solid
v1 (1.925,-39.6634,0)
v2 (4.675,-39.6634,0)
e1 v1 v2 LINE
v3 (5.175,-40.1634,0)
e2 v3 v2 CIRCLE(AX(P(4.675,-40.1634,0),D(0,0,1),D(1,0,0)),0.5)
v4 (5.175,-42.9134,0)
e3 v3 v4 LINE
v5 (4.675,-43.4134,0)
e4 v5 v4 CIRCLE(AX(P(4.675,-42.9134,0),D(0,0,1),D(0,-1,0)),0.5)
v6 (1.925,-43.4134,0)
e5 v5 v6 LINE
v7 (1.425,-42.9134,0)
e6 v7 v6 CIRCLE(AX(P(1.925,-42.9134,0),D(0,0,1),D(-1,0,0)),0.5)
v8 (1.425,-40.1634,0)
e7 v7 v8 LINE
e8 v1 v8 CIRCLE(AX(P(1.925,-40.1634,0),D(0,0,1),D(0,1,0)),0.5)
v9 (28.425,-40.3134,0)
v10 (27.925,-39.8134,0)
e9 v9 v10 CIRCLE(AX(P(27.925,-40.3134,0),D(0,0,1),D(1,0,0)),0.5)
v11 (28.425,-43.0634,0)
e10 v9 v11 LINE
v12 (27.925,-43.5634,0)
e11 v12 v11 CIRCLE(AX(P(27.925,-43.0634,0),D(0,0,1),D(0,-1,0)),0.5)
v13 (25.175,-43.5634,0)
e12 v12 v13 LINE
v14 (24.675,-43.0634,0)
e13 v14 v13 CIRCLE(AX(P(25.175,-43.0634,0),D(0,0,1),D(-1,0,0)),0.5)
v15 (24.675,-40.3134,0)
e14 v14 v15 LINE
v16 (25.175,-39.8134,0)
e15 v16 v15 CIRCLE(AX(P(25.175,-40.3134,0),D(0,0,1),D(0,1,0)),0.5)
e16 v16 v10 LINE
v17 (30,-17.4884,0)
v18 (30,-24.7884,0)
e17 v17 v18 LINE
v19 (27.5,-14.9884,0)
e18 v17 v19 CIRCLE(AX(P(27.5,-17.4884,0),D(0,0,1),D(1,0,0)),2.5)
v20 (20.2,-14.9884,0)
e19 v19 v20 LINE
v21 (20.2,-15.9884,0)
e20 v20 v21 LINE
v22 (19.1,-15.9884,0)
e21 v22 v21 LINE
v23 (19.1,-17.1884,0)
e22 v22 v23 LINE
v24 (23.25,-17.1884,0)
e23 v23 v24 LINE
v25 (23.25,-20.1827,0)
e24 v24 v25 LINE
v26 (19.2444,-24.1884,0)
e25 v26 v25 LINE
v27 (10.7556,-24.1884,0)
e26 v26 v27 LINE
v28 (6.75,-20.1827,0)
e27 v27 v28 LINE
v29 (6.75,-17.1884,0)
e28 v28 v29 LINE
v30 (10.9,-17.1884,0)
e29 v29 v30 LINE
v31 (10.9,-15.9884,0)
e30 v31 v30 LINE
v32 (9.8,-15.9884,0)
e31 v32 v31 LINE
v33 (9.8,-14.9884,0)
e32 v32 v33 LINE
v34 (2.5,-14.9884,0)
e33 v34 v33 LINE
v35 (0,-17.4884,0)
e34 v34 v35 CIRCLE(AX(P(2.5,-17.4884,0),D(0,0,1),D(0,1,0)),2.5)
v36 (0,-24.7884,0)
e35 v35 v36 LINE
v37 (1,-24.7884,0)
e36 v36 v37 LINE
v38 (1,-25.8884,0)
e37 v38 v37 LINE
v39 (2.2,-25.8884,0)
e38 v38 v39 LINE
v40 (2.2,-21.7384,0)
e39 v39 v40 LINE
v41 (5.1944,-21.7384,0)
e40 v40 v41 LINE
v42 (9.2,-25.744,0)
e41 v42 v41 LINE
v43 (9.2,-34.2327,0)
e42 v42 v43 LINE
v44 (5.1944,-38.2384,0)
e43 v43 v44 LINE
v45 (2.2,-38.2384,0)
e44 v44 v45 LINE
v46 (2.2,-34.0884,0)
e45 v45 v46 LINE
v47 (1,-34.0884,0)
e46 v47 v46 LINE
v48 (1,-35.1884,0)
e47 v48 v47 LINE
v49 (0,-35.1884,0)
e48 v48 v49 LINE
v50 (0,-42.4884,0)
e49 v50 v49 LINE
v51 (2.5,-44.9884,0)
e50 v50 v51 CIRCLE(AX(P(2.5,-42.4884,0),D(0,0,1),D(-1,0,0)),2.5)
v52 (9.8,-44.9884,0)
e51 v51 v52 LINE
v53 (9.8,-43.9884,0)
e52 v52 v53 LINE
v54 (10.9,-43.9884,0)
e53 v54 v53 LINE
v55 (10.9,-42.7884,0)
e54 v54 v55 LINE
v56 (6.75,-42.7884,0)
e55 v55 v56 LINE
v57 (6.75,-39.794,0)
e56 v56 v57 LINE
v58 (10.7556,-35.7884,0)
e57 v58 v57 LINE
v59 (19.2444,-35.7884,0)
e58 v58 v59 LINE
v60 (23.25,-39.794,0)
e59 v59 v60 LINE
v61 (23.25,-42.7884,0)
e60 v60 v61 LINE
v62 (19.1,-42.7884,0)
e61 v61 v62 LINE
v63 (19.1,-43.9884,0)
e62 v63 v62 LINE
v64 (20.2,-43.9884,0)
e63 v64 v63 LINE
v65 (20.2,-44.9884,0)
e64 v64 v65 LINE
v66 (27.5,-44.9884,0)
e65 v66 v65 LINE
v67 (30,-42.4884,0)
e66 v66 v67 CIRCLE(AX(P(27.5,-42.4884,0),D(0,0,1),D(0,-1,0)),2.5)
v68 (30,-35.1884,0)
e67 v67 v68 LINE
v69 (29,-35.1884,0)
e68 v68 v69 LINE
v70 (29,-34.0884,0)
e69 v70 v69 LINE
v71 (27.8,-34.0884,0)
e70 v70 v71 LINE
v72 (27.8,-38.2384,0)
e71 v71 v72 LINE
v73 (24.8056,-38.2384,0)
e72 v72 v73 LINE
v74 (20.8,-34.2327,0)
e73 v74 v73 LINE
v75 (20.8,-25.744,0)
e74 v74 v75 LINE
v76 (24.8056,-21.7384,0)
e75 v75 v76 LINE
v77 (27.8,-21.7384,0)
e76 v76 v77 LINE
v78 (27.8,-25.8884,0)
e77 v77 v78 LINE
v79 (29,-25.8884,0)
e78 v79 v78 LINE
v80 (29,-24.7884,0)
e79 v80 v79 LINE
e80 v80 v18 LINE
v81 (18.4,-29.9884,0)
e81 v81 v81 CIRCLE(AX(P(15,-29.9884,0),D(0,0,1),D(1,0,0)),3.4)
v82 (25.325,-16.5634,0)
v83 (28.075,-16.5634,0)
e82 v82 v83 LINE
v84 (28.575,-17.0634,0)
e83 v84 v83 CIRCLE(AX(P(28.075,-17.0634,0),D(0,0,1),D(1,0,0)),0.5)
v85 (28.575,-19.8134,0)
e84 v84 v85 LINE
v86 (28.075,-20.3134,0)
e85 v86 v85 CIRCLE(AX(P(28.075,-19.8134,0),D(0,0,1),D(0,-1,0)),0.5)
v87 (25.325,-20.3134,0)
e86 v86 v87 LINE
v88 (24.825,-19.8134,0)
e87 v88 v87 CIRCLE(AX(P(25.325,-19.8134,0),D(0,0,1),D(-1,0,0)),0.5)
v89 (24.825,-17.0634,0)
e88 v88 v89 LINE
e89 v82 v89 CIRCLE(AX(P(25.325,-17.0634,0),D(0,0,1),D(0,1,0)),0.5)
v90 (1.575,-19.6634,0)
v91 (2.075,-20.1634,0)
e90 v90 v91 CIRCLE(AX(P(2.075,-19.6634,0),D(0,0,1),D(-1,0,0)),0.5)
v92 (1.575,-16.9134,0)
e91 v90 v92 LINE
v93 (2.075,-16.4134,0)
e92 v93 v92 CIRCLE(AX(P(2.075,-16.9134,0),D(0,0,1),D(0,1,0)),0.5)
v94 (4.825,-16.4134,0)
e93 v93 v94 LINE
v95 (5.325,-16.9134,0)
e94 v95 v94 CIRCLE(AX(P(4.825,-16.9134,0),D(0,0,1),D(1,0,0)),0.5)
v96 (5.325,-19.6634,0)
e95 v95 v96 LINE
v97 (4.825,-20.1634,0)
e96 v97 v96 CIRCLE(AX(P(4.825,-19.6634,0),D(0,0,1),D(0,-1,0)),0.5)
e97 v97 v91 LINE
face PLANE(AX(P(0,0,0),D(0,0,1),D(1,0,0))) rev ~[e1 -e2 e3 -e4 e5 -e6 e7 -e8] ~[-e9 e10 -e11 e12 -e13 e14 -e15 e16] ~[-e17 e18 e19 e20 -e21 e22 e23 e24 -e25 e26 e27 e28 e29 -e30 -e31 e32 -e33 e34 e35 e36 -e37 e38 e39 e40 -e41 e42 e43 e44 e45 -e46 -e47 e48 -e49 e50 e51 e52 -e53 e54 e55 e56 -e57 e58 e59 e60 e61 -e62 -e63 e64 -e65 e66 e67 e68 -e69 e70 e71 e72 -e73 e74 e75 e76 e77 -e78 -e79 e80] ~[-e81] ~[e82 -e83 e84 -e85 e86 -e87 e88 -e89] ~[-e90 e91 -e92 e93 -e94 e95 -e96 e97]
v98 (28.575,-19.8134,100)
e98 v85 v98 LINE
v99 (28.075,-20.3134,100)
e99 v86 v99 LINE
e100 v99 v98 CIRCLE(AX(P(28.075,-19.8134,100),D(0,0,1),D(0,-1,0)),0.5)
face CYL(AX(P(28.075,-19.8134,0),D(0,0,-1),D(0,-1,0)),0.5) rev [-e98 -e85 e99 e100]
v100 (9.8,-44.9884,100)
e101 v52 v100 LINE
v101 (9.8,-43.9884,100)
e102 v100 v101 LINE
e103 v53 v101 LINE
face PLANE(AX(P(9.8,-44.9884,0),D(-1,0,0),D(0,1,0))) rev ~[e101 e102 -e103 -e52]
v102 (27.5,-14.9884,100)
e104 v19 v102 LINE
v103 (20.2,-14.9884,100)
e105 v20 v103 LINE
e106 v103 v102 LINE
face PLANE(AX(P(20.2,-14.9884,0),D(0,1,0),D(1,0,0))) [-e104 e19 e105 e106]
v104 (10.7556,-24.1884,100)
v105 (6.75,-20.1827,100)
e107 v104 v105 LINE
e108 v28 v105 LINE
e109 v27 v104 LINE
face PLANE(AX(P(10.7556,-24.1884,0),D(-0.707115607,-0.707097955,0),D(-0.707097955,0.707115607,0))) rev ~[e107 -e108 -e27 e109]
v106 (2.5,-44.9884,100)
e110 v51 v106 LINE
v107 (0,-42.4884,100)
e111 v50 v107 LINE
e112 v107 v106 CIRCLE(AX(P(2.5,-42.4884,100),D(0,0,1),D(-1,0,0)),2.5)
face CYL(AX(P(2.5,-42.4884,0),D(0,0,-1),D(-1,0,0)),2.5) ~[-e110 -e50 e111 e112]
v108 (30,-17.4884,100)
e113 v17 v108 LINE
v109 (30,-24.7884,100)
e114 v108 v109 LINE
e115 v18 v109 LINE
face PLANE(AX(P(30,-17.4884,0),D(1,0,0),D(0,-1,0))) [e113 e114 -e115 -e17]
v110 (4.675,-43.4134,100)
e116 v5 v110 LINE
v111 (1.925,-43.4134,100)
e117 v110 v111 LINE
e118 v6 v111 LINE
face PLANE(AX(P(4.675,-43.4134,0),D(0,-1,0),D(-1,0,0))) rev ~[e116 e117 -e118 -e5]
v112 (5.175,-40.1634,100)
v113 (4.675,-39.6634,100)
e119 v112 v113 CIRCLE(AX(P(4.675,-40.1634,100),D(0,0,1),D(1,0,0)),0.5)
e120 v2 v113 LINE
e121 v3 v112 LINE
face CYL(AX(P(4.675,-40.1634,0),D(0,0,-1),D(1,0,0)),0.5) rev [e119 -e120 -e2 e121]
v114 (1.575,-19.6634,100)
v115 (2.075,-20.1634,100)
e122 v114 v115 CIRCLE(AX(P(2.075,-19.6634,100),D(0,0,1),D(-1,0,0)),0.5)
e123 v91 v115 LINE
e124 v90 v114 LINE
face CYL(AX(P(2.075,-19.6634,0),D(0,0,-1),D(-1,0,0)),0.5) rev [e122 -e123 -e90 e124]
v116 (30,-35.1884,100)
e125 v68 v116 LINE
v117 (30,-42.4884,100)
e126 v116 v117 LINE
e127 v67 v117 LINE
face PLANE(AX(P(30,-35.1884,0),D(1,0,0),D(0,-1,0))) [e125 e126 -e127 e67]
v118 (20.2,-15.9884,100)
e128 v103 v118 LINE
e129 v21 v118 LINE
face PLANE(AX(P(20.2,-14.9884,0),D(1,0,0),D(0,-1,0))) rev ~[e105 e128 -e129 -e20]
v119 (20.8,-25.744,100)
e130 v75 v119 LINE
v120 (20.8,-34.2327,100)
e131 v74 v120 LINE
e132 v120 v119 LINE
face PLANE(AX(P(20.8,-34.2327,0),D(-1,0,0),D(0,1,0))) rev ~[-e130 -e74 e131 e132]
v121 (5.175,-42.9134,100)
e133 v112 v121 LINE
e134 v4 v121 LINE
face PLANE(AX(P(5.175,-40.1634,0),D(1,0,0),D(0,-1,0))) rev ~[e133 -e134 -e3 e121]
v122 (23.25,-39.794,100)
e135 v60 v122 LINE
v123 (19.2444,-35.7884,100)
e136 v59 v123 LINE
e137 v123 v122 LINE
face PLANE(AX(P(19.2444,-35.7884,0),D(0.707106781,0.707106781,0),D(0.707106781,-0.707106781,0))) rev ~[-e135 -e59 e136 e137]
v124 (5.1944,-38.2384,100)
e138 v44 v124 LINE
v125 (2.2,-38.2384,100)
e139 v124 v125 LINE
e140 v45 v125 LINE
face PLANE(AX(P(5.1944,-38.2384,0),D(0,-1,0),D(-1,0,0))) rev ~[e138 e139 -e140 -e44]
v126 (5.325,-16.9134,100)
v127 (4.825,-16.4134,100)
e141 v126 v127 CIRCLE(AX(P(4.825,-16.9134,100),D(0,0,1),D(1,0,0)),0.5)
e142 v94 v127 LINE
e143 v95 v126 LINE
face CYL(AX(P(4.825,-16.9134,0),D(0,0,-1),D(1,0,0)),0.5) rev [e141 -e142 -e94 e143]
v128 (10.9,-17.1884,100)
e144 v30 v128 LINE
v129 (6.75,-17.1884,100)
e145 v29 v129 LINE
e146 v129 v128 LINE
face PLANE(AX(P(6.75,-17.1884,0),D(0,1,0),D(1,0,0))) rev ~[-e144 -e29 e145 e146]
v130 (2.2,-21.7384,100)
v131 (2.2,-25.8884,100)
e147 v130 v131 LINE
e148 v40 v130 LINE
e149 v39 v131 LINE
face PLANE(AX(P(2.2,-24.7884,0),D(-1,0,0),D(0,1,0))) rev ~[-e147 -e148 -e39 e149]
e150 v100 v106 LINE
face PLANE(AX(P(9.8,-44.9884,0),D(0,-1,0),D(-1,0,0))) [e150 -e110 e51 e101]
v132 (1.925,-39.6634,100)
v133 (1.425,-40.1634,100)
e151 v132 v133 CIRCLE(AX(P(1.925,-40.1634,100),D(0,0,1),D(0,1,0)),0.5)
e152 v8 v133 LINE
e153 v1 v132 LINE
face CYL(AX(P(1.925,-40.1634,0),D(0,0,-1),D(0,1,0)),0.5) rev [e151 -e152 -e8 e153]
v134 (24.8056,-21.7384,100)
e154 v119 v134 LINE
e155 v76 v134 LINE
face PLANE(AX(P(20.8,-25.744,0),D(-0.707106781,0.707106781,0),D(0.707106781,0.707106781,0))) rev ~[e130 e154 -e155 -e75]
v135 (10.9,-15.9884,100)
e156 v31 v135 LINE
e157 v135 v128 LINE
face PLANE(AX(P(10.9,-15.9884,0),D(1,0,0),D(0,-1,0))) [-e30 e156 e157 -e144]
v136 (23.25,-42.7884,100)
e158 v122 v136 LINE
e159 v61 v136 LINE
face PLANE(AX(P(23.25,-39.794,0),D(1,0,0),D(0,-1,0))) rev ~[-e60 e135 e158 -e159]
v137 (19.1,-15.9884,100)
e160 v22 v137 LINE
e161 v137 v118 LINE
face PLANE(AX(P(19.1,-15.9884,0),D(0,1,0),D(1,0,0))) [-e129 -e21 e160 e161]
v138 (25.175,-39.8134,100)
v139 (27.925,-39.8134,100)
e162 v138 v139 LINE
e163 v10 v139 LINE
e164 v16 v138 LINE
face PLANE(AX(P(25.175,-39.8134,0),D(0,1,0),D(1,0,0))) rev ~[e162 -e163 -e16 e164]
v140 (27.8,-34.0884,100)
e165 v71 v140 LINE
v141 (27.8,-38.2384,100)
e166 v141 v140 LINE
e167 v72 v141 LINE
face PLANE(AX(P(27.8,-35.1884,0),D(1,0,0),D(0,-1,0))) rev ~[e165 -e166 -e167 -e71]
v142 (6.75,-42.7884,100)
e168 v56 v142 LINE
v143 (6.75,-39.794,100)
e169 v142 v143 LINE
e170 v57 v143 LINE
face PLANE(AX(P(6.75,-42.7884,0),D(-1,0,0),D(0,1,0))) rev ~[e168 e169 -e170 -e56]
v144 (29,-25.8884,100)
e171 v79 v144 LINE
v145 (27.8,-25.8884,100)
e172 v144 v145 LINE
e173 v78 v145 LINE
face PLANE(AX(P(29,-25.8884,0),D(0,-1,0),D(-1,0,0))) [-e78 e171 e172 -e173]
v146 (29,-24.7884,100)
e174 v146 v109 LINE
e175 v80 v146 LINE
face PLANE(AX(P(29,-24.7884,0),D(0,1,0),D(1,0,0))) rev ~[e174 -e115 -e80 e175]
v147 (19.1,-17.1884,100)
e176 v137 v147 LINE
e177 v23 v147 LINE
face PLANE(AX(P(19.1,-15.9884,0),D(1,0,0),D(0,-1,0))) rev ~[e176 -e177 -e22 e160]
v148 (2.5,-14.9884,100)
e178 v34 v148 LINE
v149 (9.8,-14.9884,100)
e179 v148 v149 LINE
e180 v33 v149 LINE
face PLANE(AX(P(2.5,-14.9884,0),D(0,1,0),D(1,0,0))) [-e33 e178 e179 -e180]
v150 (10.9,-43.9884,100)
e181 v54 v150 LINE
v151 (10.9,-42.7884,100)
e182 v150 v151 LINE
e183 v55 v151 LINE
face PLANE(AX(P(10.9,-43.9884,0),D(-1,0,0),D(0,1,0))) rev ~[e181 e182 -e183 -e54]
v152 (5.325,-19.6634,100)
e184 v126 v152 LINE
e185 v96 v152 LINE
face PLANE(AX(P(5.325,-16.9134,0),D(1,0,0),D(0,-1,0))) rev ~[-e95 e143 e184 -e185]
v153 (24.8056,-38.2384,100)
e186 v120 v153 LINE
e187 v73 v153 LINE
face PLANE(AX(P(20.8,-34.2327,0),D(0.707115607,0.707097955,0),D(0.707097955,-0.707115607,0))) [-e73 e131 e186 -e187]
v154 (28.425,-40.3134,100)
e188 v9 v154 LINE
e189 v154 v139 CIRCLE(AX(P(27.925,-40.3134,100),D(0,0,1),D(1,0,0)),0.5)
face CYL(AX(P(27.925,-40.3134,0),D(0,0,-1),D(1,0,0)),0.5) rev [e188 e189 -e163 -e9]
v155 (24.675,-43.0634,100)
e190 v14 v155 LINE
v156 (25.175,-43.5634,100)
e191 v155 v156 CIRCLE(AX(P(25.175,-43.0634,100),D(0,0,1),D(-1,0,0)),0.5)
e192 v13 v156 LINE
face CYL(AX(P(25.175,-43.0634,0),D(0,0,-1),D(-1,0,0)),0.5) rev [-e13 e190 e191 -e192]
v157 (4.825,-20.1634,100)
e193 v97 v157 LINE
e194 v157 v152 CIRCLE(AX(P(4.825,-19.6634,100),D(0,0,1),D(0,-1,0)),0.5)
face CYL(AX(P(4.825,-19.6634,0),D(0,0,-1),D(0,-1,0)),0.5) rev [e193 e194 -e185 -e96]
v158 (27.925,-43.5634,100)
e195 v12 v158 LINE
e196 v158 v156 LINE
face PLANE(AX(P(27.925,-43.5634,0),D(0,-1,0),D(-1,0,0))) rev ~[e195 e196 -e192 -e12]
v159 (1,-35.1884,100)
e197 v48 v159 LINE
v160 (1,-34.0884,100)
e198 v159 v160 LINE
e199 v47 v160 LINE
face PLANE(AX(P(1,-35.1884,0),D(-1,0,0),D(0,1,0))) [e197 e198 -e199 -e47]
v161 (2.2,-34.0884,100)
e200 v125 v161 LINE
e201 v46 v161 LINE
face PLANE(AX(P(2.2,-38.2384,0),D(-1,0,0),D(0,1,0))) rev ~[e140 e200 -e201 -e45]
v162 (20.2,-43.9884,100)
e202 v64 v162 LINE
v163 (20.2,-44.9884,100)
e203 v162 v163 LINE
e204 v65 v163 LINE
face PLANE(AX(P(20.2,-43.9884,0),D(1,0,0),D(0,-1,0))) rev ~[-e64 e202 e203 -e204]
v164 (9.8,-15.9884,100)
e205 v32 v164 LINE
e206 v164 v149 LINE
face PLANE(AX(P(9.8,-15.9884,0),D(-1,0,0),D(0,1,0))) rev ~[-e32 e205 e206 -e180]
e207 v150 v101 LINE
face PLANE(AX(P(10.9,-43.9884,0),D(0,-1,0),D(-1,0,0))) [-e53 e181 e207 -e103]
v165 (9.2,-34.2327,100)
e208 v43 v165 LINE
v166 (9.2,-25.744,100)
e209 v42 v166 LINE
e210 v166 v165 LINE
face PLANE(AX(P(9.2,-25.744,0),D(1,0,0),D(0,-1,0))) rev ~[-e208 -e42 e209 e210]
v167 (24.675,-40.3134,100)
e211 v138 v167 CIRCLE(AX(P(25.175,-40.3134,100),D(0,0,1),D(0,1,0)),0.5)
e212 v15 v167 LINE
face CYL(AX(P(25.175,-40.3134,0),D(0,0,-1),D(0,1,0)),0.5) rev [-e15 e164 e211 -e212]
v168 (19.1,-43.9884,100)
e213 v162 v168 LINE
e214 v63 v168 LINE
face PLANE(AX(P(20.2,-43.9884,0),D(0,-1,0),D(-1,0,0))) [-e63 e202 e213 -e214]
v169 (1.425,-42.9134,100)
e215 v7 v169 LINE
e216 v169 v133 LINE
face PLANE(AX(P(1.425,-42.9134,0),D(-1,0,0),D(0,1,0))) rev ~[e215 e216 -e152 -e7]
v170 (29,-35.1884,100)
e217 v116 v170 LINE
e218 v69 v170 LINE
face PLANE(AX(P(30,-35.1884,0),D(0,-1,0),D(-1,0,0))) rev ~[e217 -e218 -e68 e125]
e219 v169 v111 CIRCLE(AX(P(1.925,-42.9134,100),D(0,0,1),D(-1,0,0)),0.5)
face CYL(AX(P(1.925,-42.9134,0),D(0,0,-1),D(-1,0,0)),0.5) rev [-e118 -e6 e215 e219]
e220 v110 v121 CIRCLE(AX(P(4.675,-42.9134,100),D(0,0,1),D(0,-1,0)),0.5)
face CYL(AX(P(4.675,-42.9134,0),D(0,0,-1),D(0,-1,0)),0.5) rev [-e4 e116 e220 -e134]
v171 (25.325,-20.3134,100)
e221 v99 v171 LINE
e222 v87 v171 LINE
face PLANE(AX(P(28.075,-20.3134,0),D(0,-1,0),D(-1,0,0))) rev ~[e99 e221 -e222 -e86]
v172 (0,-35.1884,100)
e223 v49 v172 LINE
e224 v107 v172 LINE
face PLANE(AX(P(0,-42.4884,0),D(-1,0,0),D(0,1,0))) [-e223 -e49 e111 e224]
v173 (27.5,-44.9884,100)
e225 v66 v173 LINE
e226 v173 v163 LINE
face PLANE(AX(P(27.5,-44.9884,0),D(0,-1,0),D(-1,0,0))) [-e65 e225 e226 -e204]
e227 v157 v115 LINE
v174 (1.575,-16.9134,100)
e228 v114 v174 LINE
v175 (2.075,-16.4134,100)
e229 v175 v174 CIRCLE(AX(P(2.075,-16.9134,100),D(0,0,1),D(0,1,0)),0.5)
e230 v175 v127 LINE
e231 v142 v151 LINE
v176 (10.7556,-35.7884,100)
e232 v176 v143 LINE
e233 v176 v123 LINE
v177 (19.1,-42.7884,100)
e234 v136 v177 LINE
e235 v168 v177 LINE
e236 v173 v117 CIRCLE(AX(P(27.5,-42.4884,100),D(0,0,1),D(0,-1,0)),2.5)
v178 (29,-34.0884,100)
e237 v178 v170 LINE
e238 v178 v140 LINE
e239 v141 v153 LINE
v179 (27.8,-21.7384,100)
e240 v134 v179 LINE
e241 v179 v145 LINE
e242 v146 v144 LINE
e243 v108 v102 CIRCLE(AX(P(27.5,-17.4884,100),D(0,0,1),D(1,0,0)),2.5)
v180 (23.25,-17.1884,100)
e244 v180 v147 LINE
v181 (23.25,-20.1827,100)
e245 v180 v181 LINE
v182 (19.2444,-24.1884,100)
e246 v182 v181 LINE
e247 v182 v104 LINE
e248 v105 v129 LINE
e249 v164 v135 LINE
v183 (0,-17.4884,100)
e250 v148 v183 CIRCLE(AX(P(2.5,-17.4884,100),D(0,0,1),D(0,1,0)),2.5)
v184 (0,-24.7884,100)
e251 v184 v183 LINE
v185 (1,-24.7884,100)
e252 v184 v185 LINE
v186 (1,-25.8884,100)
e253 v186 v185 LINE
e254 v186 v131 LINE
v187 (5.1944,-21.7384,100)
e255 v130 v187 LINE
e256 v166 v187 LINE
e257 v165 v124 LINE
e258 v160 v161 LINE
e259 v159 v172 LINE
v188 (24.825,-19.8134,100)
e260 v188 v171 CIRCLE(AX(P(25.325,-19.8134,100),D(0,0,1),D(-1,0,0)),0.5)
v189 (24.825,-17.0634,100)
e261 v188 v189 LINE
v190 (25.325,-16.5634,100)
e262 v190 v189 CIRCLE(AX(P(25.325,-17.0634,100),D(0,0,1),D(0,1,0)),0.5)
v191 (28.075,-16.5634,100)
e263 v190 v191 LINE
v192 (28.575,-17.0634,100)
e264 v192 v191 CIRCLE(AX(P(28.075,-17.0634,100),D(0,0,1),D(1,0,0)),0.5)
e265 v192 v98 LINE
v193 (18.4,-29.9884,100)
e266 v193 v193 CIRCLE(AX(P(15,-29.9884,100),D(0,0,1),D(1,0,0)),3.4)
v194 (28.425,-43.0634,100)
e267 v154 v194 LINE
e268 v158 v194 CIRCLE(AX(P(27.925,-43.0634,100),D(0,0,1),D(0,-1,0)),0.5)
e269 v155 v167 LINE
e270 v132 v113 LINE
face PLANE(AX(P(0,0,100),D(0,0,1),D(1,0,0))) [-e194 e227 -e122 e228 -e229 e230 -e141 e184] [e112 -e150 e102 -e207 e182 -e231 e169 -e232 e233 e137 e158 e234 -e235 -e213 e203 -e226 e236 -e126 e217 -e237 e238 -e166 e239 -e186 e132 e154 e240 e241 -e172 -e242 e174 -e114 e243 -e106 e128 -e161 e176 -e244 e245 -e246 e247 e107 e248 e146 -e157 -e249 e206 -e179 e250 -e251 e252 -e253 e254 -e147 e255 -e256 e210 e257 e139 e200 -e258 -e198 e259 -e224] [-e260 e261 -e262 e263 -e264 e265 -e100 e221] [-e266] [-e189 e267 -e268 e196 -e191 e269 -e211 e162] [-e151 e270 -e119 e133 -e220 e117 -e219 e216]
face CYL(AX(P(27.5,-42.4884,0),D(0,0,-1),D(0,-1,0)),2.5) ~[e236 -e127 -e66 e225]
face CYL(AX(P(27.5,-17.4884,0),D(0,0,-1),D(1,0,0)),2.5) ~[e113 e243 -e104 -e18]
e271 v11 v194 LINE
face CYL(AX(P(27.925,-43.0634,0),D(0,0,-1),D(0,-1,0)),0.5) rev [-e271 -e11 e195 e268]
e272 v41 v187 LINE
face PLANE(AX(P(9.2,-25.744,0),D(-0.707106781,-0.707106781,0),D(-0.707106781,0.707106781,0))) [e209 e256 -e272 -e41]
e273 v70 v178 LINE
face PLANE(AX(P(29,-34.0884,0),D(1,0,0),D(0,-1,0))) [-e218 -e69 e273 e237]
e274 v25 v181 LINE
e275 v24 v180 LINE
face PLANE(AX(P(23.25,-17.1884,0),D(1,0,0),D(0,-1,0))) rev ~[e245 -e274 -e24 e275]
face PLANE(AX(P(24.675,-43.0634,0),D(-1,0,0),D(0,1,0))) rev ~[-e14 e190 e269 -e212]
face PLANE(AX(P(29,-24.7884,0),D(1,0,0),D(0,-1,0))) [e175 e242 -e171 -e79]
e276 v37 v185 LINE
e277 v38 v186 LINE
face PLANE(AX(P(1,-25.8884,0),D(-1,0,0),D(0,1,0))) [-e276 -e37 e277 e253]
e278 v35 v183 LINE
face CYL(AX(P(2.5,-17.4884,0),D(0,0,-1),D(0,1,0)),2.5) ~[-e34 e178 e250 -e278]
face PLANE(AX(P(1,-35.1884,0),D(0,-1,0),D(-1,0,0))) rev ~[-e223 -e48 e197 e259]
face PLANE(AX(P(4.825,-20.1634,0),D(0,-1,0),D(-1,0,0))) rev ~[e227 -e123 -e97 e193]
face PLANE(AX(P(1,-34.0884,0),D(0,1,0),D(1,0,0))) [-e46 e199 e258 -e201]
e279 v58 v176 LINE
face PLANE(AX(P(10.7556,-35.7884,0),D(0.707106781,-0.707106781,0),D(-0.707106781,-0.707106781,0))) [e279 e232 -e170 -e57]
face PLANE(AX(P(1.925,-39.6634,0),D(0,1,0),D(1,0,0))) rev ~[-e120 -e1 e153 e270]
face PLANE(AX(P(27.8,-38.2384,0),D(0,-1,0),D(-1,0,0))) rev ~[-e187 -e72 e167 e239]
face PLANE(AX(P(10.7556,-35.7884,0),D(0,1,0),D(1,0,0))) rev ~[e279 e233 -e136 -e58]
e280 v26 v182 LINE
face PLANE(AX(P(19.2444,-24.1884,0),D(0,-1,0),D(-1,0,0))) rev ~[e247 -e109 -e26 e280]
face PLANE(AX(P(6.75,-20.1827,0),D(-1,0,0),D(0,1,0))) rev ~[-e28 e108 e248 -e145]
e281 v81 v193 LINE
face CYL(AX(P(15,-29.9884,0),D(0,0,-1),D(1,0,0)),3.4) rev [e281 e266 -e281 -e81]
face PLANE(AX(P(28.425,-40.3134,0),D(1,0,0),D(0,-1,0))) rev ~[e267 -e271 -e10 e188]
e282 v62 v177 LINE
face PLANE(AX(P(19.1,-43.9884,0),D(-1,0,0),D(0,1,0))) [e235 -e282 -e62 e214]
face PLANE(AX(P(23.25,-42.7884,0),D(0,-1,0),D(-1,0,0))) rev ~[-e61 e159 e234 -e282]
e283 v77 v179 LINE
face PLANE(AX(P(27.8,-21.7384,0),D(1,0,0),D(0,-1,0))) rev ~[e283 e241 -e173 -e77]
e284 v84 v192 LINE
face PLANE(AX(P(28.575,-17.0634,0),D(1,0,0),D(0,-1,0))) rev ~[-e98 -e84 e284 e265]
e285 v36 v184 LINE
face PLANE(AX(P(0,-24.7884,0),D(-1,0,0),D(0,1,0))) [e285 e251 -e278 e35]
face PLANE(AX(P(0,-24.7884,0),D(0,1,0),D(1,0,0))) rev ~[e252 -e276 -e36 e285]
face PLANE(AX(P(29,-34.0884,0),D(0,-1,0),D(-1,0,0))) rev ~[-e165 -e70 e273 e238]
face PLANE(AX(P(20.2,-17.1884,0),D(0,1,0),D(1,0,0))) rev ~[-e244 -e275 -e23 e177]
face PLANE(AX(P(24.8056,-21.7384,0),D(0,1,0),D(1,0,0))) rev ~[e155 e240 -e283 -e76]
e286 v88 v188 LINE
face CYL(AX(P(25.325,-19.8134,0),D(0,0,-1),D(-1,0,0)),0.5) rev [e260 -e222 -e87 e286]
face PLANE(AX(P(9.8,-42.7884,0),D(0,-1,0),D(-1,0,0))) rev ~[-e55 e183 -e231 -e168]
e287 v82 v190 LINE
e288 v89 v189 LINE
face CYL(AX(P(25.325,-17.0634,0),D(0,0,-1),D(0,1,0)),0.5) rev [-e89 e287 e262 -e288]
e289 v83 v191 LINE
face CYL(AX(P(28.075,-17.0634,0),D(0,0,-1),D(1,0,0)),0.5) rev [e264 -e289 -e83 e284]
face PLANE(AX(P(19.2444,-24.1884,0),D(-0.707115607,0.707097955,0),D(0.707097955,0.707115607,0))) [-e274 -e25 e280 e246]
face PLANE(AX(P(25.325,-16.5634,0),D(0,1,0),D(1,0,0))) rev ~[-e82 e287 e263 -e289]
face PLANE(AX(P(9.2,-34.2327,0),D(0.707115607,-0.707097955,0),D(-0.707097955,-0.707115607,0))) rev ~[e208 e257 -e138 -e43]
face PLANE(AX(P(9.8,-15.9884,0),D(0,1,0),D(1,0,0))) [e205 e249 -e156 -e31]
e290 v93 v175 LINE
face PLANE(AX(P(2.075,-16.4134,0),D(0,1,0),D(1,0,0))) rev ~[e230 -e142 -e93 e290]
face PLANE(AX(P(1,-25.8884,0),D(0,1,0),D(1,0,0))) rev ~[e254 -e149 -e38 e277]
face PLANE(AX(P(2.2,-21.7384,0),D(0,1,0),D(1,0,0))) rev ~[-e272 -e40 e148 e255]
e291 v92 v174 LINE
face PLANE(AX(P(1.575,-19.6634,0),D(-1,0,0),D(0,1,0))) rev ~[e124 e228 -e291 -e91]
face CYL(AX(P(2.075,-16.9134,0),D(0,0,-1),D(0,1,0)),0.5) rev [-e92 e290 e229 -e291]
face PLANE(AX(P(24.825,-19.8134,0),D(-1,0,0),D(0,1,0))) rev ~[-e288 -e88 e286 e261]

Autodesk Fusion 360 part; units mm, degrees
sketch "Sketch1" plane through (0, 0, 0) normal (0, 0, 1) x (1, 0, 0)
  circle A0 centre (10, 10) radius 2.5
  line L0 (13.9, 6.1) -> (6.1, 13.9) construction
  line L1 (0, 6.4) -> (0, 1.5)
  line L2 (4.5, 1.8) -> (6.9, 1.8)
  line L3 (3.5808, 4.5) -> (6.1, 7.0192)
  line L4 (4.5, 3.5808) -> (7.0192, 6.1)
  line L5 (0.5, 6.9) -> (0.5, 6.4)
  line L6 (0.5, 6.4) -> (0, 6.4)
  line L7 (6.9, 0) -> (6.4, 0) construction
  line L8 (6.4, 0) -> (6.4, 0.5)
  line L9 (6.4, 0.5) -> (6.9, 0.5)
  arc A1 (0, 1.5) -> (1.5, 0) centre (1.5, 1.5) ccw
  line L10 (1.8, 6.9) -> (0.5, 6.9)
  line L11 (1.8, 6.9) -> (1.8, 6.4)
  line L12 (1.8, 6.4) -> (1.8, 4.5)
  line L13 (3.5808, 4.5) -> (1.8, 4.5)
  line L14 (6.1, 10) -> (6.1, 7.0192)
  line L15 (7.0192, 6.1) -> (10, 6.1)
  line L16 (4.5, 1.8) -> (4.5, 3.5808)
  line L17 (6.9, 0.5) -> (6.9, 1.8)
  line L18 (1.5, 0) -> (6.4, 0)
  line L19 (6.4, 0) -> (6.9, 0)
  line L20 (0, 6.9) -> (0, 6.4)
  line L21 (10, 13.9) -> (10, 6.1) construction
  line L22 (13.9, 10) -> (6.1, 10) construction
  line L23 (20, 6.4) -> (19.5, 6.4)
  line L24 (19.5, 6.4) -> (19.5, 6.9)
  line L25 (19.5, 6.9) -> (18.2, 6.9)
  line L26 (18.2, 4.5) -> (18.2, 6.9)
  line L27 (18.2, 4.5) -> (16.4192, 4.5)
  line L28 (16.4192, 4.5) -> (13.9, 7.0192)
  line L29 (13.9, 7.0192) -> (13.9, 10)
  line L30 (15.5, 3.5808) -> (12.9808, 6.1)
  line L31 (15.5, 3.5808) -> (15.5, 1.8)
  line L32 (13.6, 1.8) -> (15.5, 1.8)
  line L33 (13.1, 1.8) -> (13.6, 1.8)
  line L34 (13.1, 1.8) -> (13.1, 0.5)
  line L35 (13.1, 0.5) -> (13.6, 0.5)
  line L36 (13.6, 0.5) -> (13.6, 0)
  line L37 (10, 6.1) -> (12.9808, 6.1)
  line L38 (13.6, 0) -> (18.5, 0)
  arc A2 (18.5, 0) -> (20, 1.5) centre (18.5, 1.5) ccw
  line L39 (20, 1.5) -> (20, 6.4)
  line L40 (13.6, 20) -> (13.6, 19.5)
  line L41 (13.6, 19.5) -> (13.1, 19.5)
  line L42 (13.1, 19.5) -> (13.1, 18.2)
  line L43 (15.5, 18.2) -> (13.1, 18.2)
  line L44 (15.5, 18.2) -> (15.5, 16.4192)
  line L45 (15.5, 16.4192) -> (12.9808, 13.9)
  line L46 (12.9808, 13.9) -> (10, 13.9)
  line L47 (16.4192, 15.5) -> (13.9, 12.9808)
  line L48 (16.4192, 15.5) -> (18.2, 15.5)
  line L49 (18.2, 13.6) -> (18.2, 15.5)
  line L50 (18.2, 13.1) -> (18.2, 13.6)
  line L51 (18.2, 13.1) -> (19.5, 13.1)
  line L52 (19.5, 13.1) -> (19.5, 13.6)
  line L53 (19.5, 13.6) -> (20, 13.6)
  line L54 (13.9, 10) -> (13.9, 12.9808)
  line L55 (20, 13.6) -> (20, 18.5)
  arc A3 (20, 18.5) -> (18.5, 20) centre (18.5, 18.5) ccw
  line L56 (18.5, 20) -> (13.6, 20)
  line L57 (0, 13.6) -> (0.5, 13.6)
  line L58 (0.5, 13.6) -> (0.5, 13.1)
  line L59 (0.5, 13.1) -> (1.8, 13.1)
  line L60 (1.8, 15.5) -> (1.8, 13.1)
  line L61 (1.8, 15.5) -> (3.5808, 15.5)
  line L62 (3.5808, 15.5) -> (6.1, 12.9808)
  line L63 (6.1, 12.9808) -> (6.1, 10)
  line L64 (4.5, 16.4192) -> (7.0192, 13.9)
  line L65 (4.5, 16.4192) -> (4.5, 18.2)
  line L66 (6.4, 18.2) -> (4.5, 18.2)
  line L67 (6.9, 18.2) -> (6.4, 18.2)
  line L68 (6.9, 18.2) -> (6.9, 19.5)
  line L69 (6.9, 19.5) -> (6.4, 19.5)
  line L70 (6.4, 19.5) -> (6.4, 20)
  line L71 (10, 13.9) -> (7.0192, 13.9)
  line L72 (6.4, 20) -> (1.5, 20)
  arc A4 (1.5, 20) -> (0, 18.5) centre (1.5, 18.5) ccw
  line L73 (0, 18.5) -> (0, 13.6)
  arc A5 (26, 1.5) -> (27.5, 0) centre (27.5, 1.5) ccw
  line L74 (41.5, 3.5808) -> (41.5, 1.8)
  line L75 (39.1, 19.5) -> (39.1, 18.2)
  line L76 (32.4, 20) -> (27.5, 20)
  line L77 (26, 6.9) -> (26, 6.4)
  line L78 (29.5808, 4.5) -> (32.1, 7.0192)
  line L79 (29.5808, 15.5) -> (32.1, 12.9808)
  line L80 (26, 13.6) -> (26.5, 13.6)
  line L81 (39.1, 0.5) -> (39.6, 0.5)
  line L82 (30.5, 16.4192) -> (30.5, 18.2)
  line L83 (27.8, 15.5) -> (27.8, 13.1)
  line L84 (36, 13.9) -> (36, 6.1) construction
  line L85 (32.4, 0) -> (32.4, 0.5)
  line L86 (39.6, 0.5) -> (39.6, 0)
  line L87 (32.1, 10) -> (32.1, 7.0192)
  line L88 (32.4, 19.5) -> (32.4, 20)
  line L89 (39.1, 1.8) -> (39.6, 1.8)
  line L90 (27.8, 6.9) -> (27.8, 6.4)
  line L91 (41.5, 16.4192) -> (38.9808, 13.9)
  line L92 (26.5, 13.1) -> (27.8, 13.1)
  line L93 (26.5, 6.4) -> (26, 6.4)
  line L94 (32.1, 12.9808) -> (32.1, 10)
  line L95 (27.5, 0) -> (32.4, 0)
  line L96 (32.9, 0.5) -> (32.9, 1.8)
  line L97 (32.9, 0) -> (32.4, 0) construction
  line L98 (30.5, 1.8) -> (30.5, 3.5808)
  line L99 (32.9, 19.5) -> (32.4, 19.5)
  line L100 (32.9, 18.2) -> (32.4, 18.2)
  line L101 (41.5, 18.2) -> (39.1, 18.2)
  line L102 (39.6, 19.5) -> (39.1, 19.5)
  line L103 (27.8, 6.9) -> (26.5, 6.9)
  line L104 (27.8, 15.5) -> (29.5808, 15.5)
  line L105 (36, 13.9) -> (33.0192, 13.9)
  line L106 (33.0192, 6.1) -> (36, 6.1)
  line L107 (41.5, 18.2) -> (41.5, 16.4192)
  line L108 (39.9, 10) -> (32.1, 10) construction
  line L109 (39.6, 1.8) -> (41.5, 1.8)
  line L110 (39.9, 6.1) -> (32.1, 13.9) construction
  line L111 (39.6, 0) -> (44.5, 0)
  line L112 (36, 6.1) -> (38.9808, 6.1)
  circle A6 centre (36, 10) radius 2.5
  line L113 (42.4192, 4.5) -> (39.9, 7.0192)
  line L114 (38.9808, 13.9) -> (36, 13.9)
  line L115 (41.5, 3.5808) -> (38.9808, 6.1)
  line L116 (39.9, 7.0192) -> (39.9, 10)
  line L117 (39.9, 10) -> (39.9, 12.9808)
  line L118 (30.5, 16.4192) -> (33.0192, 13.9)
  line L119 (42.4192, 15.5) -> (39.9, 12.9808)
  line L120 (26, 18.5) -> (26, 13.6)
  line L121 (39.6, 20) -> (39.6, 19.5)
  line L122 (32.4, 18.2) -> (30.5, 18.2)
  line L123 (26.5, 6.9) -> (26.5, 6.4)
  line L124 (39.1, 1.8) -> (39.1, 0.5)
  arc A7 (27.5, 20) -> (26, 18.5) centre (27.5, 18.5) ccw
  line L125 (44.5, 20) -> (39.6, 20)
  line L126 (26, 6.4) -> (26, 1.5)
  line L127 (30.5, 3.5808) -> (33.0192, 6.1)
  line L128 (32.4, 0) -> (32.9, 0)
  line L129 (32.4, 0.5) -> (32.9, 0.5)
  line L130 (29.5808, 4.5) -> (27.8, 4.5)
  line L131 (27.8, 6.4) -> (27.8, 4.5)
  line L132 (30.5, 1.8) -> (32.9, 1.8)
  line L133 (26.5, 13.6) -> (26.5, 13.1)
  line L134 (32.9, 18.2) -> (32.9, 19.5)
  line L135 (59.9, 6.1) -> (52.1, 13.9) construction
  circle A8 centre (56, 10) radius 2.5
  line L136 (56, 13.9) -> (56, 6.1) construction
  line L137 (66, 13.6) -> (66, 18.5)
  line L138 (61.5, 16.4192) -> (58.9808, 13.9)
  line L139 (59.9, 10) -> (59.9, 12.9808)
  line L140 (64.2, 13.1) -> (65.5, 13.1)
  line L141 (59.6, 20) -> (59.6, 19.5)
  line L142 (52.1, 12.9808) -> (52.1, 10)
  line L143 (59.1, 19.5) -> (59.1, 18.2)
  line L144 (64.2, 13.1) -> (64.2, 13.6)
  line L145 (64.2, 13.6) -> (64.2, 15.5)
  line L146 (59.9, 10) -> (52.1, 10) construction
  line L147 (65.5, 13.1) -> (65.5, 13.6)
  line L148 (64.5, 20) -> (59.6, 20)
  line L149 (49.5808, 15.5) -> (52.1, 12.9808)
  line L150 (52.4, 19.5) -> (52.4, 20)
  line L151 (62.4192, 15.5) -> (64.2, 15.5)
  line L152 (59.1, 0.5) -> (59.6, 0.5)
  line L153 (65.5, 13.6) -> (66, 13.6)
  line L154 (50.5, 16.4192) -> (53.0192, 13.9)
  line L155 (61.5, 18.2) -> (61.5, 16.4192)
  line L156 (53.0192, 6.1) -> (56, 6.1)
  line L157 (50.5, 16.4192) -> (50.5, 18.2)
  line L158 (52.4, 0.5) -> (52.9, 0.5)
  line L159 (59.1, 1.8) -> (59.6, 1.8)
  line L160 (49.5808, 4.5) -> (52.1, 7.0192)
  line L161 (50.5, 1.8) -> (50.5, 3.5808)
  line L162 (61.5, 3.5808) -> (61.5, 1.8)
  line L163 (56, 13.9) -> (53.0192, 13.9)
  line L164 (52.4, 0) -> (52.4, 0.5)
  line L165 (50.5, 3.5808) -> (53.0192, 6.1)
  line L166 (66, 1.5) -> (66, 6.4)
  line L167 (59.6, 1.8) -> (61.5, 1.8)
  arc A9 (66, 18.5) -> (64.5, 20) centre (64.5, 18.5) ccw
  line L168 (52.1, 10) -> (52.1, 7.0192)
  line L169 (64.2, 4.5) -> (62.4192, 4.5)
  line L170 (59.6, 19.5) -> (59.1, 19.5)
  line L171 (61.5, 18.2) -> (59.1, 18.2)
  line L172 (61.5, 3.5808) -> (58.9808, 6.1)
  line L173 (52.9, 0) -> (52.4, 0) construction
  line L174 (59.9, 7.0192) -> (59.9, 10)
  line L175 (52.4, 18.2) -> (50.5, 18.2)
  line L176 (59.6, 0.5) -> (59.6, 0)
  line L177 (52.9, 18.2) -> (52.4, 18.2)
  line L178 (66, 6.4) -> (65.5, 6.4)
  line L179 (56, 6.1) -> (58.9808, 6.1)
  line L180 (52.9, 18.2) -> (52.9, 19.5)
  line L181 (59.6, 0) -> (64.5, 0)
  line L182 (62.4192, 4.5) -> (59.9, 7.0192)
  arc A10 (64.5, 0) -> (66, 1.5) centre (64.5, 1.5) ccw
  line L183 (50.5, 1.8) -> (52.9, 1.8)
  line L184 (52.4, 20) -> (47.5, 20)
  line L185 (64.2, 4.5) -> (64.2, 6.9)
  line L186 (65.5, 6.4) -> (65.5, 6.9)
  line L187 (52.4, 0) -> (52.9, 0)
  line L188 (52.9, 19.5) -> (52.4, 19.5)
  line L189 (65.5, 6.9) -> (64.2, 6.9)
  line L190 (59.1, 1.8) -> (59.1, 0.5)
  line L191 (47.5, 0) -> (52.4, 0)
  line L192 (58.9808, 13.9) -> (56, 13.9)
  line L193 (62.4192, 15.5) -> (59.9, 12.9808)
  line L194 (52.9, 0.5) -> (52.9, 1.8)
  line L195 (44.5, 20) -> (47.5, 20)
  line L196 (44.5, 0) -> (47.5, 0)
  line L197 (41.5, 18.2) -> (42.8, 18.2) construction
  line L198 (42.8, 18.2) -> (49.2, 18.2)
  line L199 (49.2, 1.8) -> (42.8, 1.8)
  line L200 (42.4192, 15.5) -> (42.8, 15.8808)
  line L201 (49.5808, 15.5) -> (49.2, 15.8808)
  line L202 (49.5808, 4.5) -> (49.2, 4.1192)
  line L203 (42.4192, 4.5) -> (42.8, 4.1192)
  line L204 (42.8, 15.8808) -> (42.8, 18.2)
  line L205 (49.2, 18.2) -> (49.2, 15.8808)
  line L206 (49.2, 4.1192) -> (49.2, 1.8)
  line L207 (42.8, 1.8) -> (42.8, 4.1192)
  arc A11 (2.5, -14.9884) -> (0, -17.4884) centre (2.5, -17.4884) ccw
  circle A12 centre (15, -29.9884) radius 3.4
  line L208 (10.9, -15.9884) -> (10.9, -17.1884)
  line L209 (19.2444, -24.1884) -> (10.7556, -24.1884)
  line L210 (9.2, -25.744) -> (9.2, -34.2327)
  line L211 (10.7556, -35.7884) -> (19.2444, -35.7884)
  line L212 (20.8, -34.2327) -> (20.8, -25.744)
  line L213 (1, -25.8884) -> (2.2, -25.8884)
  line L214 (0, -24.7884) -> (0, -21.7384)
  line L215 (0, -24.7884) -> (1, -24.7884)
  line L216 (1, -25.8884) -> (1, -24.7884)
  line L217 (2.2, -25.8884) -> (2.2, -24.7884)
  line L218 (2.2, -24.7884) -> (2.2, -21.7384)
  line L219 (2.5, -14.9884) -> (9.8, -14.9884)
  line L220 (6.75, -17.1884) -> (10.9, -17.1884)
  line L221 (9.8, -15.9884) -> (10.9, -15.9884)
  line L222 (9.8, -15.9884) -> (9.8, -14.9884)
  line L223 (2.2, -21.7384) -> (5.1944, -21.7384)
  line L224 (6.75, -20.1827) -> (6.75, -17.1884)
  line L225 (0, -17.4884) -> (0, -21.7384)
  line L226 (10.7556, -24.1884) -> (6.75, -20.1827)
  line L227 (9.2, -25.744) -> (5.1944, -21.7384)
  line L228 (4.825, -20.1634) -> (2.075, -20.1634)
  line L229 (1.575, -19.6634) -> (1.575, -16.9134)
  line L230 (2.075, -16.4134) -> (4.825, -16.4134)
  line L231 (5.325, -16.9134) -> (5.325, -19.6634)
  arc A13 (2.075, -16.4134) -> (1.575, -16.9134) centre (2.075, -16.9134) ccw
  arc A14 (5.325, -16.9134) -> (4.825, -16.4134) centre (4.825, -16.9134) ccw
  arc A15 (4.825, -20.1634) -> (5.325, -19.6634) centre (4.825, -19.6634) ccw
  arc A16 (1.575, -19.6634) -> (2.075, -20.1634) centre (2.075, -19.6634) ccw
  line L232 (2.2, -38.2384) -> (2.2, -34.0884)
  line L233 (1, -34.0884) -> (2.2, -34.0884)
  line L234 (1, -35.1884) -> (1, -34.0884)
  line L235 (1, -35.1884) -> (0, -35.1884)
  line L236 (0, -42.4884) -> (0, -35.1884)
  arc A17 (0, -42.4884) -> (2.5, -44.9884) centre (2.5, -42.4884) ccw
  line L237 (2.5, -44.9884) -> (6.75, -44.9884)
  line L238 (9.8, -44.9884) -> (6.75, -44.9884)
  line L239 (9.8, -44.9884) -> (9.8, -43.9884)
  line L240 (10.9, -43.9884) -> (9.8, -43.9884)
  line L241 (10.9, -43.9884) -> (10.9, -42.7884)
  line L242 (10.9, -42.7884) -> (9.8, -42.7884)
  line L243 (9.8, -42.7884) -> (6.75, -42.7884)
  line L244 (6.75, -42.7884) -> (6.75, -39.794)
  line L245 (10.7556, -35.7884) -> (6.75, -39.794)
  line L246 (9.2, -34.2327) -> (5.1944, -38.2384)
  line L247 (5.1944, -38.2384) -> (2.2, -38.2384)
  arc A18 (1.425, -42.9134) -> (1.925, -43.4134) centre (1.925, -42.9134) ccw
  line L248 (1.425, -42.9134) -> (1.425, -40.1634)
  arc A19 (1.925, -39.6634) -> (1.425, -40.1634) centre (1.925, -40.1634) ccw
  line L249 (1.925, -39.6634) -> (4.675, -39.6634)
  arc A20 (5.175, -40.1634) -> (4.675, -39.6634) centre (4.675, -40.1634) ccw
  line L250 (5.175, -40.1634) -> (5.175, -42.9134)
  arc A21 (4.675, -43.4134) -> (5.175, -42.9134) centre (4.675, -42.9134) ccw
  line L251 (4.675, -43.4134) -> (1.925, -43.4134)
  line L252 (23.25, -42.7884) -> (19.1, -42.7884)
  line L253 (19.1, -43.9884) -> (19.1, -42.7884)
  line L254 (20.2, -43.9884) -> (19.1, -43.9884)
  line L255 (20.2, -43.9884) -> (20.2, -44.9884)
  line L256 (27.5, -44.9884) -> (20.2, -44.9884)
  arc A22 (27.5, -44.9884) -> (30, -42.4884) centre (27.5, -42.4884) ccw
  line L257 (30, -42.4884) -> (30, -38.2384)
  line L258 (30, -35.1884) -> (30, -38.2384)
  line L259 (30, -35.1884) -> (29, -35.1884)
  line L260 (29, -34.0884) -> (29, -35.1884)
  line L261 (29, -34.0884) -> (27.8, -34.0884)
  line L262 (27.8, -34.0884) -> (27.8, -35.1884)
  line L263 (27.8, -35.1884) -> (27.8, -38.2384)
  line L264 (27.8, -38.2384) -> (24.8056, -38.2384)
  line L265 (20.8, -34.2327) -> (24.8056, -38.2384)
  line L266 (19.2444, -35.7884) -> (23.25, -39.794)
  line L267 (23.25, -39.794) -> (23.25, -42.7884)
  arc A23 (27.925, -43.5634) -> (28.425, -43.0634) centre (27.925, -43.0634) ccw
  line L268 (27.925, -43.5634) -> (25.175, -43.5634)
  arc A24 (24.675, -43.0634) -> (25.175, -43.5634) centre (25.175, -43.0634) ccw
  line L269 (24.675, -43.0634) -> (24.675, -40.3134)
  arc A25 (25.175, -39.8134) -> (24.675, -40.3134) centre (25.175, -40.3134) ccw
  line L270 (25.175, -39.8134) -> (27.925, -39.8134)
  arc A26 (28.425, -40.3134) -> (27.925, -39.8134) centre (27.925, -40.3134) ccw
  line L271 (28.425, -40.3134) -> (28.425, -43.0634)
  line L272 (27.8, -21.7384) -> (27.8, -25.8884)
  line L273 (29, -25.8884) -> (27.8, -25.8884)
  line L274 (29, -24.7884) -> (29, -25.8884)
  line L275 (29, -24.7884) -> (30, -24.7884)
  line L276 (30, -17.4884) -> (30, -24.7884)
  arc A27 (30, -17.4884) -> (27.5, -14.9884) centre (27.5, -17.4884) ccw
  line L277 (27.5, -14.9884) -> (23.25, -14.9884)
  line L278 (20.2, -14.9884) -> (23.25, -14.9884)
  line L279 (20.2, -14.9884) -> (20.2, -15.9884)
  line L280 (19.1, -15.9884) -> (20.2, -15.9884)
  line L281 (19.1, -15.9884) -> (19.1, -17.1884)
  line L282 (19.1, -17.1884) -> (20.2, -17.1884)
  line L283 (20.2, -17.1884) -> (23.25, -17.1884)
  line L284 (23.25, -17.1884) -> (23.25, -20.1827)
  line L285 (19.2444, -24.1884) -> (23.25, -20.1827)
  line L286 (20.8, -25.744) -> (24.8056, -21.7384)
  line L287 (24.8056, -21.7384) -> (27.8, -21.7384)
  arc A28 (28.575, -17.0634) -> (28.075, -16.5634) centre (28.075, -17.0634) ccw
  line L288 (28.575, -17.0634) -> (28.575, -19.8134)
  arc A29 (28.075, -20.3134) -> (28.575, -19.8134) centre (28.075, -19.8134) ccw
  line L289 (28.075, -20.3134) -> (25.325, -20.3134)
  arc A30 (24.825, -19.8134) -> (25.325, -20.3134) centre (25.325, -19.8134) ccw
  line L290 (24.825, -19.8134) -> (24.825, -17.0634)
  arc A31 (25.325, -16.5634) -> (24.825, -17.0634) centre (25.325, -17.0634) ccw
  line L291 (25.325, -16.5634) -> (28.075, -16.5634)
  circle A32 centre (55, -29.9884) radius 3.4
  line L292 (59.1, -15.9884) -> (60.2, -15.9884)
  line L293 (59.1, -43.9884) -> (59.1, -42.7884)
  line L294 (50.9, -43.9884) -> (50.9, -42.7884)
  line L295 (50.9, -42.7884) -> (49.8, -42.7884)
  line L296 (49.8, -44.9884) -> (49.8, -43.9884)
  line L297 (60.8, -34.2327) -> (60.8, -25.744)
  line L298 (49.8, -15.9884) -> (49.8, -14.9884)
  line L299 (50.9, -15.9884) -> (50.9, -17.1884)
  line L300 (60.2, -17.1884) -> (63.25, -17.1884)
  line L301 (50.9, -43.9884) -> (49.8, -43.9884)
  line L302 (50.7556, -35.7884) -> (59.2444, -35.7884)
  line L303 (59.2444, -24.1884) -> (63.25, -20.1827)
  line L304 (59.1, -15.9884) -> (59.1, -17.1884)
  line L305 (59.2444, -35.7884) -> (63.25, -39.794)
  line L306 (60.2, -43.9884) -> (59.1, -43.9884)
  line L307 (49.8, -15.9884) -> (50.9, -15.9884)
  line L308 (59.1, -17.1884) -> (60.2, -17.1884)
  line L309 (60.2, -14.9884) -> (60.2, -15.9884)
  line L310 (60.2, -43.9884) -> (60.2, -44.9884)
  line L311 (59.2444, -24.1884) -> (50.7556, -24.1884)
  line L312 (63.25, -42.7884) -> (59.1, -42.7884)
  arc A33 (41.575, -19.6634) -> (42.075, -20.1634) centre (42.075, -19.6634) ccw
  line L313 (40, -17.4884) -> (40, -21.7384)
  line L314 (42.2, -24.7884) -> (42.2, -21.7384)
  line L315 (40, -24.7884) -> (41, -24.7884)
  line L316 (67.5, -44.9884) -> (60.2, -44.9884)
  line L317 (41, -25.8884) -> (42.2, -25.8884)
  arc A34 (42.075, -16.4134) -> (41.575, -16.9134) centre (42.075, -16.9134) ccw
  line L318 (44.825, -20.1634) -> (42.075, -20.1634)
  line L319 (42.2, -25.8884) -> (42.2, -24.7884)
  arc A35 (45.325, -16.9134) -> (44.825, -16.4134) centre (44.825, -16.9134) ccw
  line L320 (60.8, -34.2327) -> (64.8056, -38.2384)
  arc A36 (42.5, -14.9884) -> (40, -17.4884) centre (42.5, -17.4884) ccw
  line L321 (40, -24.7884) -> (40, -21.7384)
  line L322 (60.8, -25.744) -> (64.8056, -21.7384)
  line L323 (45.325, -16.9134) -> (45.325, -19.6634)
  line L324 (60.2, -14.9884) -> (63.25, -14.9884)
  line L325 (42.5, -14.9884) -> (49.8, -14.9884)
  line L326 (50.7556, -24.1884) -> (46.75, -20.1827)
  line L327 (41.575, -19.6634) -> (41.575, -16.9134)
  line L328 (49.8, -42.7884) -> (46.75, -42.7884)
  line L329 (46.75, -17.1884) -> (50.9, -17.1884)
  line L330 (49.2, -25.744) -> (45.1944, -21.7384)
  line L331 (46.75, -20.1827) -> (46.75, -17.1884)
  line L332 (49.8, -44.9884) -> (46.75, -44.9884)
  line L333 (50.7556, -35.7884) -> (46.75, -39.794)
  arc A37 (44.825, -20.1634) -> (45.325, -19.6634) centre (44.825, -19.6634) ccw
  line L334 (42.075, -16.4134) -> (44.825, -16.4134)
  line L335 (63.25, -39.794) -> (63.25, -42.7884)
  line L336 (41, -25.8884) -> (41, -24.7884)
  line L337 (49.2, -25.744) -> (49.2, -34.2327)
  line L338 (42.2, -21.7384) -> (45.1944, -21.7384)
  line L339 (42.2, -38.2384) -> (42.2, -34.0884)
  line L340 (41.425, -42.9134) -> (41.425, -40.1634)
  arc A38 (45.175, -40.1634) -> (44.675, -39.6634) centre (44.675, -40.1634) ccw
  arc A39 (41.425, -42.9134) -> (41.925, -43.4134) centre (41.925, -42.9134) ccw
  line L341 (41, -35.1884) -> (40, -35.1884)
  arc A40 (41.925, -39.6634) -> (41.425, -40.1634) centre (41.925, -40.1634) ccw
  line L342 (41.925, -39.6634) -> (44.675, -39.6634)
  line L343 (45.175, -40.1634) -> (45.175, -42.9134)
  line L344 (49.2, -34.2327) -> (45.1944, -38.2384)
  line L345 (67.5, -14.9884) -> (63.25, -14.9884)
  arc A41 (44.675, -43.4134) -> (45.175, -42.9134) centre (44.675, -42.9134) ccw
  arc A42 (40, -42.4884) -> (42.5, -44.9884) centre (42.5, -42.4884) ccw
  line L346 (41, -35.1884) -> (41, -34.0884)
  line L347 (41, -34.0884) -> (42.2, -34.0884)
  line L348 (42.5, -44.9884) -> (46.75, -44.9884)
  line L349 (63.25, -17.1884) -> (63.25, -20.1827)
  line L350 (40, -42.4884) -> (40, -35.1884)
  line L351 (46.75, -42.7884) -> (46.75, -39.794)
  line L352 (45.1944, -38.2384) -> (42.2, -38.2384)
  line L353 (44.675, -43.4134) -> (41.925, -43.4134)
  line L354 (90.2, -43.9884) -> (89.1, -43.9884)
  arc A43 (95.175, -39.8134) -> (94.675, -40.3134) centre (95.175, -40.3134) ccw
  circle A44 centre (85, -29.9884) radius 3.4
  arc A45 (98.425, -40.3134) -> (97.925, -39.8134) centre (97.925, -40.3134) ccw
  line L355 (97.925, -43.5634) -> (95.175, -43.5634)
  line L356 (79.8, -44.9884) -> (79.8, -43.9884)
  line L357 (97.8, -38.2384) -> (94.8056, -38.2384)
  line L358 (100, -17.4884) -> (100, -24.7884)
  line L359 (90.2, -14.9884) -> (93.25, -14.9884)
  line L360 (89.1, -15.9884) -> (89.1, -17.1884)
  line L361 (76.75, -42.7884) -> (76.75, -39.794)
  line L362 (97.8, -34.0884) -> (97.8, -35.1884)
  arc A46 (97.5, -44.9884) -> (100, -42.4884) centre (97.5, -42.4884) ccw
  line L363 (80.9, -43.9884) -> (80.9, -42.7884)
  line L364 (89.1, -43.9884) -> (89.1, -42.7884)
  line L365 (94.675, -43.0634) -> (94.675, -40.3134)
  line L366 (95.175, -39.8134) -> (97.925, -39.8134)
  line L367 (80.9, -42.7884) -> (79.8, -42.7884)
  line L368 (93.25, -39.794) -> (93.25, -42.7884)
  line L369 (98.425, -40.3134) -> (98.425, -43.0634)
  line L370 (90.2, -43.9884) -> (90.2, -44.9884)
  line L371 (100, -42.4884) -> (100, -38.2384)
  line L372 (100, -35.1884) -> (100, -38.2384)
  line L373 (100, -35.1884) -> (99, -35.1884)
  line L374 (90.8, -34.2327) -> (94.8056, -38.2384)
  line L375 (97.5, -44.9884) -> (90.2, -44.9884)
  line L376 (99, -34.0884) -> (99, -35.1884)
  arc A47 (95.325, -16.5634) -> (94.825, -17.0634) centre (95.325, -17.0634) ccw
  line L377 (90.8, -34.2327) -> (90.8, -25.744)
  line L378 (80.7556, -35.7884) -> (76.75, -39.794)
  line L379 (80.7556, -24.1884) -> (76.75, -20.1827)
  arc A48 (98.075, -20.3134) -> (98.575, -19.8134) centre (98.075, -19.8134) ccw
  line L380 (98.075, -20.3134) -> (95.325, -20.3134)
  line L381 (79.2, -25.744) -> (75.1944, -21.7384)
  line L382 (89.2444, -24.1884) -> (80.7556, -24.1884)
  line L383 (79.8, -42.7884) -> (76.75, -42.7884)
  line L384 (89.1, -17.1884) -> (90.2, -17.1884)
  line L385 (90.2, -17.1884) -> (93.25, -17.1884)
  line L386 (72.5, -14.9884) -> (79.8, -14.9884)
  line L387 (79.2, -34.2327) -> (75.1944, -38.2384)
  line L388 (97.8, -21.7384) -> (97.8, -25.8884)
  line L389 (99, -25.8884) -> (97.8, -25.8884)
  line L390 (94.825, -19.8134) -> (94.825, -17.0634)
  line L391 (79.8, -44.9884) -> (76.75, -44.9884)
  line L392 (90.8, -25.744) -> (94.8056, -21.7384)
  line L393 (79.8, -15.9884) -> (80.9, -15.9884)
  arc A49 (100, -17.4884) -> (97.5, -14.9884) centre (97.5, -17.4884) ccw
  line L394 (89.1, -15.9884) -> (90.2, -15.9884)
  line L395 (79.2, -25.744) -> (79.2, -34.2327)
  line L396 (72.5, -44.9884) -> (76.75, -44.9884)
  line L397 (93.25, -17.1884) -> (93.25, -20.1827)
  line L398 (80.9, -15.9884) -> (80.9, -17.1884)
  line L399 (79.8, -15.9884) -> (79.8, -14.9884)
  line L400 (99, -24.7884) -> (100, -24.7884)
  line L401 (94.8056, -21.7384) -> (97.8, -21.7384)
  line L402 (95.325, -16.5634) -> (98.075, -16.5634)
  line L403 (90.2, -14.9884) -> (90.2, -15.9884)
  arc A50 (94.825, -19.8134) -> (95.325, -20.3134) centre (95.325, -19.8134) ccw
  line L404 (98.575, -17.0634) -> (98.575, -19.8134)
  line L405 (89.2444, -24.1884) -> (93.25, -20.1827)
  line L406 (76.75, -17.1884) -> (80.9, -17.1884)
  arc A51 (98.575, -17.0634) -> (98.075, -16.5634) centre (98.075, -17.0634) ccw
  line L407 (97.5, -14.9884) -> (93.25, -14.9884)
  line L408 (99, -24.7884) -> (99, -25.8884)
  line L409 (80.7556, -35.7884) -> (89.2444, -35.7884)
  line L410 (97.8, -35.1884) -> (97.8, -38.2384)
  arc A52 (94.675, -43.0634) -> (95.175, -43.5634) centre (95.175, -43.0634) ccw
  line L411 (89.2444, -35.7884) -> (93.25, -39.794)
  arc A53 (97.925, -43.5634) -> (98.425, -43.0634) centre (97.925, -43.0634) ccw
  line L412 (93.25, -42.7884) -> (89.1, -42.7884)
  line L413 (80.9, -43.9884) -> (79.8, -43.9884)
  line L414 (99, -34.0884) -> (97.8, -34.0884)
  line L415 (76.75, -20.1827) -> (76.75, -17.1884)
  line L416 (67.5, -14.9884) -> (72.5, -14.9884)
  line L417 (75.1944, -21.7384) -> (74.75, -21.294)
  line L418 (64.8056, -21.7384) -> (65.25, -21.294)
  line L419 (65.25, -17.1884) -> (74.75, -17.1884)
  line L420 (65.25, -17.1884) -> (65.25, -21.294)
  line L421 (74.75, -17.1884) -> (74.75, -21.294)
  line L422 (65.25, -42.7884) -> (65.25, -38.6827)
  line L423 (67.5, -44.9884) -> (72.5, -44.9884)
  line L424 (74.75, -42.7884) -> (74.75, -38.6827)
  line L425 (74.75, -42.7884) -> (65.25, -42.7884)
  line L426 (64.8056, -38.2384) -> (65.25, -38.6827)
  line L427 (75.1944, -38.2384) -> (74.75, -38.6827)
  point P0 (10, 10)
  point P1 (36, 10)
  point P2 (56, 10)
  point P3 (0, -14.9884)
  point P4 (30, -14.9884)
  point P5 (0, -44.9884)
  point P6 (15, -29.9884)
  point P7 (15, -29.9884)
  point P8 (15, -29.9884)
  point P9 (15, -29.9884)
  point P10 (15, -29.9884)
  point P11 (15, -29.9884)
  point P12 (15, -29.9884)
  point P13 (1.575, -20.1634)
  point P14 (1.575, -16.4134)
  point P15 (5.325, -16.4134)
  point P16 (3.45, -18.2884)
  point P17 (45.325, -16.4134)
  point P18 (43.45, -18.2884)
  point P19 (55, -29.9884)
  point P20 (41.575, -20.1634)
  point P21 (41.575, -16.4134)
  point P22 (55, -29.9884)
  point P23 (55, -29.9884)
  point P24 (55, -29.9884)
  point P25 (40, -44.9884)
  point P26 (40, -14.9884)
  point P27 (70, -14.9884)
  point P28 (55, -29.9884)
  point P29 (55, -29.9884)
  point P30 (55, -29.9884)
  point P31 (85, -29.9884)
  point P32 (73.45, -18.2884)
  point P33 (85, -29.9884)
  point P34 (71.575, -20.1634)
  point P35 (75.325, -16.4134)
  point P36 (70, -44.9884)
  point P37 (70, -14.9884)
  point P38 (100, -14.9884)
  point P39 (85, -29.9884)
  point P40 (85, -29.9884)
  point P41 (71.575, -16.4134)
  point P42 (85, -29.9884)
  point P43 (85, -29.9884)
  point P44 (85, -29.9884)
  dimension "d3" = 5
  dimension "d6" = 6.9
  dimension "d7" = 6.9
  dimension "d14" = 6.4
  dimension "d22" = 0.5
  dimension "d23" = 0.5
  dimension "d24" = 0.5
  dimension "d25" = 0.5
  dimension "d26" = 1.5
  dimension "d28" = 360
  dimension "d30" = 360
  dimension "d31" = 5
  dimension "d32" = 0.5
  dimension "d33" = 0.5
  dimension "d34" = 0.5
  dimension "d35" = 0.5
  dimension "d36" = 1.5
  dimension "d39" = 5
  dimension "d42" = 0.5
  dimension "d43" = 0.5
  dimension "d45" = 1.3
  dimension "d47" = 6.4
  dimension "d73" = 30
  dimension "d74" = 30
  dimension "d75" = 2.5
  dimension "d76" = 6.8
  dimension "d90" = 3.75
  dimension "d91" = 3.75
  dimension "d92" = 0.5
  dimension "d94" = 360
  dimension "d96" = 360
  dimension "d97" = 30
  dimension "d98" = 30
  dimension "d99" = 2.5
  dimension "d100" = 6.8
  dimension "d101" = 2.2
  dimension "d102" = 3.75
  dimension "d103" = 3.75
  dimension "d104" = 0.5
  dimension "d107" = 30
  dimension "d108" = 30
  dimension "d110" = 6.8
  dimension "d111" = 2.2
  dimension "d112" = 3.75
  dimension "d113" = 3.75
  dimension "d115" = 2
  dimension "d116" = 2
  dimension "d117" = 2
  dimension "d118" = 2
extrude "Extrude1" add sketch "Sketch1" along normal blind 100 makes body 1 at (12.4876, 9.7511, 33.3333) makes body 2 at (38.4876, 9.7511, 33.3333) makes body 3 at (18.3831, -30.3269, 33.3333) makes body 4 at (58.3831, -30.3269, 33.3333)
hidden bodies 1 2 4
equation "d7 = 10 mm - 3.1 mm"
equation "d14 = 10 mm - 3.6 mm"
